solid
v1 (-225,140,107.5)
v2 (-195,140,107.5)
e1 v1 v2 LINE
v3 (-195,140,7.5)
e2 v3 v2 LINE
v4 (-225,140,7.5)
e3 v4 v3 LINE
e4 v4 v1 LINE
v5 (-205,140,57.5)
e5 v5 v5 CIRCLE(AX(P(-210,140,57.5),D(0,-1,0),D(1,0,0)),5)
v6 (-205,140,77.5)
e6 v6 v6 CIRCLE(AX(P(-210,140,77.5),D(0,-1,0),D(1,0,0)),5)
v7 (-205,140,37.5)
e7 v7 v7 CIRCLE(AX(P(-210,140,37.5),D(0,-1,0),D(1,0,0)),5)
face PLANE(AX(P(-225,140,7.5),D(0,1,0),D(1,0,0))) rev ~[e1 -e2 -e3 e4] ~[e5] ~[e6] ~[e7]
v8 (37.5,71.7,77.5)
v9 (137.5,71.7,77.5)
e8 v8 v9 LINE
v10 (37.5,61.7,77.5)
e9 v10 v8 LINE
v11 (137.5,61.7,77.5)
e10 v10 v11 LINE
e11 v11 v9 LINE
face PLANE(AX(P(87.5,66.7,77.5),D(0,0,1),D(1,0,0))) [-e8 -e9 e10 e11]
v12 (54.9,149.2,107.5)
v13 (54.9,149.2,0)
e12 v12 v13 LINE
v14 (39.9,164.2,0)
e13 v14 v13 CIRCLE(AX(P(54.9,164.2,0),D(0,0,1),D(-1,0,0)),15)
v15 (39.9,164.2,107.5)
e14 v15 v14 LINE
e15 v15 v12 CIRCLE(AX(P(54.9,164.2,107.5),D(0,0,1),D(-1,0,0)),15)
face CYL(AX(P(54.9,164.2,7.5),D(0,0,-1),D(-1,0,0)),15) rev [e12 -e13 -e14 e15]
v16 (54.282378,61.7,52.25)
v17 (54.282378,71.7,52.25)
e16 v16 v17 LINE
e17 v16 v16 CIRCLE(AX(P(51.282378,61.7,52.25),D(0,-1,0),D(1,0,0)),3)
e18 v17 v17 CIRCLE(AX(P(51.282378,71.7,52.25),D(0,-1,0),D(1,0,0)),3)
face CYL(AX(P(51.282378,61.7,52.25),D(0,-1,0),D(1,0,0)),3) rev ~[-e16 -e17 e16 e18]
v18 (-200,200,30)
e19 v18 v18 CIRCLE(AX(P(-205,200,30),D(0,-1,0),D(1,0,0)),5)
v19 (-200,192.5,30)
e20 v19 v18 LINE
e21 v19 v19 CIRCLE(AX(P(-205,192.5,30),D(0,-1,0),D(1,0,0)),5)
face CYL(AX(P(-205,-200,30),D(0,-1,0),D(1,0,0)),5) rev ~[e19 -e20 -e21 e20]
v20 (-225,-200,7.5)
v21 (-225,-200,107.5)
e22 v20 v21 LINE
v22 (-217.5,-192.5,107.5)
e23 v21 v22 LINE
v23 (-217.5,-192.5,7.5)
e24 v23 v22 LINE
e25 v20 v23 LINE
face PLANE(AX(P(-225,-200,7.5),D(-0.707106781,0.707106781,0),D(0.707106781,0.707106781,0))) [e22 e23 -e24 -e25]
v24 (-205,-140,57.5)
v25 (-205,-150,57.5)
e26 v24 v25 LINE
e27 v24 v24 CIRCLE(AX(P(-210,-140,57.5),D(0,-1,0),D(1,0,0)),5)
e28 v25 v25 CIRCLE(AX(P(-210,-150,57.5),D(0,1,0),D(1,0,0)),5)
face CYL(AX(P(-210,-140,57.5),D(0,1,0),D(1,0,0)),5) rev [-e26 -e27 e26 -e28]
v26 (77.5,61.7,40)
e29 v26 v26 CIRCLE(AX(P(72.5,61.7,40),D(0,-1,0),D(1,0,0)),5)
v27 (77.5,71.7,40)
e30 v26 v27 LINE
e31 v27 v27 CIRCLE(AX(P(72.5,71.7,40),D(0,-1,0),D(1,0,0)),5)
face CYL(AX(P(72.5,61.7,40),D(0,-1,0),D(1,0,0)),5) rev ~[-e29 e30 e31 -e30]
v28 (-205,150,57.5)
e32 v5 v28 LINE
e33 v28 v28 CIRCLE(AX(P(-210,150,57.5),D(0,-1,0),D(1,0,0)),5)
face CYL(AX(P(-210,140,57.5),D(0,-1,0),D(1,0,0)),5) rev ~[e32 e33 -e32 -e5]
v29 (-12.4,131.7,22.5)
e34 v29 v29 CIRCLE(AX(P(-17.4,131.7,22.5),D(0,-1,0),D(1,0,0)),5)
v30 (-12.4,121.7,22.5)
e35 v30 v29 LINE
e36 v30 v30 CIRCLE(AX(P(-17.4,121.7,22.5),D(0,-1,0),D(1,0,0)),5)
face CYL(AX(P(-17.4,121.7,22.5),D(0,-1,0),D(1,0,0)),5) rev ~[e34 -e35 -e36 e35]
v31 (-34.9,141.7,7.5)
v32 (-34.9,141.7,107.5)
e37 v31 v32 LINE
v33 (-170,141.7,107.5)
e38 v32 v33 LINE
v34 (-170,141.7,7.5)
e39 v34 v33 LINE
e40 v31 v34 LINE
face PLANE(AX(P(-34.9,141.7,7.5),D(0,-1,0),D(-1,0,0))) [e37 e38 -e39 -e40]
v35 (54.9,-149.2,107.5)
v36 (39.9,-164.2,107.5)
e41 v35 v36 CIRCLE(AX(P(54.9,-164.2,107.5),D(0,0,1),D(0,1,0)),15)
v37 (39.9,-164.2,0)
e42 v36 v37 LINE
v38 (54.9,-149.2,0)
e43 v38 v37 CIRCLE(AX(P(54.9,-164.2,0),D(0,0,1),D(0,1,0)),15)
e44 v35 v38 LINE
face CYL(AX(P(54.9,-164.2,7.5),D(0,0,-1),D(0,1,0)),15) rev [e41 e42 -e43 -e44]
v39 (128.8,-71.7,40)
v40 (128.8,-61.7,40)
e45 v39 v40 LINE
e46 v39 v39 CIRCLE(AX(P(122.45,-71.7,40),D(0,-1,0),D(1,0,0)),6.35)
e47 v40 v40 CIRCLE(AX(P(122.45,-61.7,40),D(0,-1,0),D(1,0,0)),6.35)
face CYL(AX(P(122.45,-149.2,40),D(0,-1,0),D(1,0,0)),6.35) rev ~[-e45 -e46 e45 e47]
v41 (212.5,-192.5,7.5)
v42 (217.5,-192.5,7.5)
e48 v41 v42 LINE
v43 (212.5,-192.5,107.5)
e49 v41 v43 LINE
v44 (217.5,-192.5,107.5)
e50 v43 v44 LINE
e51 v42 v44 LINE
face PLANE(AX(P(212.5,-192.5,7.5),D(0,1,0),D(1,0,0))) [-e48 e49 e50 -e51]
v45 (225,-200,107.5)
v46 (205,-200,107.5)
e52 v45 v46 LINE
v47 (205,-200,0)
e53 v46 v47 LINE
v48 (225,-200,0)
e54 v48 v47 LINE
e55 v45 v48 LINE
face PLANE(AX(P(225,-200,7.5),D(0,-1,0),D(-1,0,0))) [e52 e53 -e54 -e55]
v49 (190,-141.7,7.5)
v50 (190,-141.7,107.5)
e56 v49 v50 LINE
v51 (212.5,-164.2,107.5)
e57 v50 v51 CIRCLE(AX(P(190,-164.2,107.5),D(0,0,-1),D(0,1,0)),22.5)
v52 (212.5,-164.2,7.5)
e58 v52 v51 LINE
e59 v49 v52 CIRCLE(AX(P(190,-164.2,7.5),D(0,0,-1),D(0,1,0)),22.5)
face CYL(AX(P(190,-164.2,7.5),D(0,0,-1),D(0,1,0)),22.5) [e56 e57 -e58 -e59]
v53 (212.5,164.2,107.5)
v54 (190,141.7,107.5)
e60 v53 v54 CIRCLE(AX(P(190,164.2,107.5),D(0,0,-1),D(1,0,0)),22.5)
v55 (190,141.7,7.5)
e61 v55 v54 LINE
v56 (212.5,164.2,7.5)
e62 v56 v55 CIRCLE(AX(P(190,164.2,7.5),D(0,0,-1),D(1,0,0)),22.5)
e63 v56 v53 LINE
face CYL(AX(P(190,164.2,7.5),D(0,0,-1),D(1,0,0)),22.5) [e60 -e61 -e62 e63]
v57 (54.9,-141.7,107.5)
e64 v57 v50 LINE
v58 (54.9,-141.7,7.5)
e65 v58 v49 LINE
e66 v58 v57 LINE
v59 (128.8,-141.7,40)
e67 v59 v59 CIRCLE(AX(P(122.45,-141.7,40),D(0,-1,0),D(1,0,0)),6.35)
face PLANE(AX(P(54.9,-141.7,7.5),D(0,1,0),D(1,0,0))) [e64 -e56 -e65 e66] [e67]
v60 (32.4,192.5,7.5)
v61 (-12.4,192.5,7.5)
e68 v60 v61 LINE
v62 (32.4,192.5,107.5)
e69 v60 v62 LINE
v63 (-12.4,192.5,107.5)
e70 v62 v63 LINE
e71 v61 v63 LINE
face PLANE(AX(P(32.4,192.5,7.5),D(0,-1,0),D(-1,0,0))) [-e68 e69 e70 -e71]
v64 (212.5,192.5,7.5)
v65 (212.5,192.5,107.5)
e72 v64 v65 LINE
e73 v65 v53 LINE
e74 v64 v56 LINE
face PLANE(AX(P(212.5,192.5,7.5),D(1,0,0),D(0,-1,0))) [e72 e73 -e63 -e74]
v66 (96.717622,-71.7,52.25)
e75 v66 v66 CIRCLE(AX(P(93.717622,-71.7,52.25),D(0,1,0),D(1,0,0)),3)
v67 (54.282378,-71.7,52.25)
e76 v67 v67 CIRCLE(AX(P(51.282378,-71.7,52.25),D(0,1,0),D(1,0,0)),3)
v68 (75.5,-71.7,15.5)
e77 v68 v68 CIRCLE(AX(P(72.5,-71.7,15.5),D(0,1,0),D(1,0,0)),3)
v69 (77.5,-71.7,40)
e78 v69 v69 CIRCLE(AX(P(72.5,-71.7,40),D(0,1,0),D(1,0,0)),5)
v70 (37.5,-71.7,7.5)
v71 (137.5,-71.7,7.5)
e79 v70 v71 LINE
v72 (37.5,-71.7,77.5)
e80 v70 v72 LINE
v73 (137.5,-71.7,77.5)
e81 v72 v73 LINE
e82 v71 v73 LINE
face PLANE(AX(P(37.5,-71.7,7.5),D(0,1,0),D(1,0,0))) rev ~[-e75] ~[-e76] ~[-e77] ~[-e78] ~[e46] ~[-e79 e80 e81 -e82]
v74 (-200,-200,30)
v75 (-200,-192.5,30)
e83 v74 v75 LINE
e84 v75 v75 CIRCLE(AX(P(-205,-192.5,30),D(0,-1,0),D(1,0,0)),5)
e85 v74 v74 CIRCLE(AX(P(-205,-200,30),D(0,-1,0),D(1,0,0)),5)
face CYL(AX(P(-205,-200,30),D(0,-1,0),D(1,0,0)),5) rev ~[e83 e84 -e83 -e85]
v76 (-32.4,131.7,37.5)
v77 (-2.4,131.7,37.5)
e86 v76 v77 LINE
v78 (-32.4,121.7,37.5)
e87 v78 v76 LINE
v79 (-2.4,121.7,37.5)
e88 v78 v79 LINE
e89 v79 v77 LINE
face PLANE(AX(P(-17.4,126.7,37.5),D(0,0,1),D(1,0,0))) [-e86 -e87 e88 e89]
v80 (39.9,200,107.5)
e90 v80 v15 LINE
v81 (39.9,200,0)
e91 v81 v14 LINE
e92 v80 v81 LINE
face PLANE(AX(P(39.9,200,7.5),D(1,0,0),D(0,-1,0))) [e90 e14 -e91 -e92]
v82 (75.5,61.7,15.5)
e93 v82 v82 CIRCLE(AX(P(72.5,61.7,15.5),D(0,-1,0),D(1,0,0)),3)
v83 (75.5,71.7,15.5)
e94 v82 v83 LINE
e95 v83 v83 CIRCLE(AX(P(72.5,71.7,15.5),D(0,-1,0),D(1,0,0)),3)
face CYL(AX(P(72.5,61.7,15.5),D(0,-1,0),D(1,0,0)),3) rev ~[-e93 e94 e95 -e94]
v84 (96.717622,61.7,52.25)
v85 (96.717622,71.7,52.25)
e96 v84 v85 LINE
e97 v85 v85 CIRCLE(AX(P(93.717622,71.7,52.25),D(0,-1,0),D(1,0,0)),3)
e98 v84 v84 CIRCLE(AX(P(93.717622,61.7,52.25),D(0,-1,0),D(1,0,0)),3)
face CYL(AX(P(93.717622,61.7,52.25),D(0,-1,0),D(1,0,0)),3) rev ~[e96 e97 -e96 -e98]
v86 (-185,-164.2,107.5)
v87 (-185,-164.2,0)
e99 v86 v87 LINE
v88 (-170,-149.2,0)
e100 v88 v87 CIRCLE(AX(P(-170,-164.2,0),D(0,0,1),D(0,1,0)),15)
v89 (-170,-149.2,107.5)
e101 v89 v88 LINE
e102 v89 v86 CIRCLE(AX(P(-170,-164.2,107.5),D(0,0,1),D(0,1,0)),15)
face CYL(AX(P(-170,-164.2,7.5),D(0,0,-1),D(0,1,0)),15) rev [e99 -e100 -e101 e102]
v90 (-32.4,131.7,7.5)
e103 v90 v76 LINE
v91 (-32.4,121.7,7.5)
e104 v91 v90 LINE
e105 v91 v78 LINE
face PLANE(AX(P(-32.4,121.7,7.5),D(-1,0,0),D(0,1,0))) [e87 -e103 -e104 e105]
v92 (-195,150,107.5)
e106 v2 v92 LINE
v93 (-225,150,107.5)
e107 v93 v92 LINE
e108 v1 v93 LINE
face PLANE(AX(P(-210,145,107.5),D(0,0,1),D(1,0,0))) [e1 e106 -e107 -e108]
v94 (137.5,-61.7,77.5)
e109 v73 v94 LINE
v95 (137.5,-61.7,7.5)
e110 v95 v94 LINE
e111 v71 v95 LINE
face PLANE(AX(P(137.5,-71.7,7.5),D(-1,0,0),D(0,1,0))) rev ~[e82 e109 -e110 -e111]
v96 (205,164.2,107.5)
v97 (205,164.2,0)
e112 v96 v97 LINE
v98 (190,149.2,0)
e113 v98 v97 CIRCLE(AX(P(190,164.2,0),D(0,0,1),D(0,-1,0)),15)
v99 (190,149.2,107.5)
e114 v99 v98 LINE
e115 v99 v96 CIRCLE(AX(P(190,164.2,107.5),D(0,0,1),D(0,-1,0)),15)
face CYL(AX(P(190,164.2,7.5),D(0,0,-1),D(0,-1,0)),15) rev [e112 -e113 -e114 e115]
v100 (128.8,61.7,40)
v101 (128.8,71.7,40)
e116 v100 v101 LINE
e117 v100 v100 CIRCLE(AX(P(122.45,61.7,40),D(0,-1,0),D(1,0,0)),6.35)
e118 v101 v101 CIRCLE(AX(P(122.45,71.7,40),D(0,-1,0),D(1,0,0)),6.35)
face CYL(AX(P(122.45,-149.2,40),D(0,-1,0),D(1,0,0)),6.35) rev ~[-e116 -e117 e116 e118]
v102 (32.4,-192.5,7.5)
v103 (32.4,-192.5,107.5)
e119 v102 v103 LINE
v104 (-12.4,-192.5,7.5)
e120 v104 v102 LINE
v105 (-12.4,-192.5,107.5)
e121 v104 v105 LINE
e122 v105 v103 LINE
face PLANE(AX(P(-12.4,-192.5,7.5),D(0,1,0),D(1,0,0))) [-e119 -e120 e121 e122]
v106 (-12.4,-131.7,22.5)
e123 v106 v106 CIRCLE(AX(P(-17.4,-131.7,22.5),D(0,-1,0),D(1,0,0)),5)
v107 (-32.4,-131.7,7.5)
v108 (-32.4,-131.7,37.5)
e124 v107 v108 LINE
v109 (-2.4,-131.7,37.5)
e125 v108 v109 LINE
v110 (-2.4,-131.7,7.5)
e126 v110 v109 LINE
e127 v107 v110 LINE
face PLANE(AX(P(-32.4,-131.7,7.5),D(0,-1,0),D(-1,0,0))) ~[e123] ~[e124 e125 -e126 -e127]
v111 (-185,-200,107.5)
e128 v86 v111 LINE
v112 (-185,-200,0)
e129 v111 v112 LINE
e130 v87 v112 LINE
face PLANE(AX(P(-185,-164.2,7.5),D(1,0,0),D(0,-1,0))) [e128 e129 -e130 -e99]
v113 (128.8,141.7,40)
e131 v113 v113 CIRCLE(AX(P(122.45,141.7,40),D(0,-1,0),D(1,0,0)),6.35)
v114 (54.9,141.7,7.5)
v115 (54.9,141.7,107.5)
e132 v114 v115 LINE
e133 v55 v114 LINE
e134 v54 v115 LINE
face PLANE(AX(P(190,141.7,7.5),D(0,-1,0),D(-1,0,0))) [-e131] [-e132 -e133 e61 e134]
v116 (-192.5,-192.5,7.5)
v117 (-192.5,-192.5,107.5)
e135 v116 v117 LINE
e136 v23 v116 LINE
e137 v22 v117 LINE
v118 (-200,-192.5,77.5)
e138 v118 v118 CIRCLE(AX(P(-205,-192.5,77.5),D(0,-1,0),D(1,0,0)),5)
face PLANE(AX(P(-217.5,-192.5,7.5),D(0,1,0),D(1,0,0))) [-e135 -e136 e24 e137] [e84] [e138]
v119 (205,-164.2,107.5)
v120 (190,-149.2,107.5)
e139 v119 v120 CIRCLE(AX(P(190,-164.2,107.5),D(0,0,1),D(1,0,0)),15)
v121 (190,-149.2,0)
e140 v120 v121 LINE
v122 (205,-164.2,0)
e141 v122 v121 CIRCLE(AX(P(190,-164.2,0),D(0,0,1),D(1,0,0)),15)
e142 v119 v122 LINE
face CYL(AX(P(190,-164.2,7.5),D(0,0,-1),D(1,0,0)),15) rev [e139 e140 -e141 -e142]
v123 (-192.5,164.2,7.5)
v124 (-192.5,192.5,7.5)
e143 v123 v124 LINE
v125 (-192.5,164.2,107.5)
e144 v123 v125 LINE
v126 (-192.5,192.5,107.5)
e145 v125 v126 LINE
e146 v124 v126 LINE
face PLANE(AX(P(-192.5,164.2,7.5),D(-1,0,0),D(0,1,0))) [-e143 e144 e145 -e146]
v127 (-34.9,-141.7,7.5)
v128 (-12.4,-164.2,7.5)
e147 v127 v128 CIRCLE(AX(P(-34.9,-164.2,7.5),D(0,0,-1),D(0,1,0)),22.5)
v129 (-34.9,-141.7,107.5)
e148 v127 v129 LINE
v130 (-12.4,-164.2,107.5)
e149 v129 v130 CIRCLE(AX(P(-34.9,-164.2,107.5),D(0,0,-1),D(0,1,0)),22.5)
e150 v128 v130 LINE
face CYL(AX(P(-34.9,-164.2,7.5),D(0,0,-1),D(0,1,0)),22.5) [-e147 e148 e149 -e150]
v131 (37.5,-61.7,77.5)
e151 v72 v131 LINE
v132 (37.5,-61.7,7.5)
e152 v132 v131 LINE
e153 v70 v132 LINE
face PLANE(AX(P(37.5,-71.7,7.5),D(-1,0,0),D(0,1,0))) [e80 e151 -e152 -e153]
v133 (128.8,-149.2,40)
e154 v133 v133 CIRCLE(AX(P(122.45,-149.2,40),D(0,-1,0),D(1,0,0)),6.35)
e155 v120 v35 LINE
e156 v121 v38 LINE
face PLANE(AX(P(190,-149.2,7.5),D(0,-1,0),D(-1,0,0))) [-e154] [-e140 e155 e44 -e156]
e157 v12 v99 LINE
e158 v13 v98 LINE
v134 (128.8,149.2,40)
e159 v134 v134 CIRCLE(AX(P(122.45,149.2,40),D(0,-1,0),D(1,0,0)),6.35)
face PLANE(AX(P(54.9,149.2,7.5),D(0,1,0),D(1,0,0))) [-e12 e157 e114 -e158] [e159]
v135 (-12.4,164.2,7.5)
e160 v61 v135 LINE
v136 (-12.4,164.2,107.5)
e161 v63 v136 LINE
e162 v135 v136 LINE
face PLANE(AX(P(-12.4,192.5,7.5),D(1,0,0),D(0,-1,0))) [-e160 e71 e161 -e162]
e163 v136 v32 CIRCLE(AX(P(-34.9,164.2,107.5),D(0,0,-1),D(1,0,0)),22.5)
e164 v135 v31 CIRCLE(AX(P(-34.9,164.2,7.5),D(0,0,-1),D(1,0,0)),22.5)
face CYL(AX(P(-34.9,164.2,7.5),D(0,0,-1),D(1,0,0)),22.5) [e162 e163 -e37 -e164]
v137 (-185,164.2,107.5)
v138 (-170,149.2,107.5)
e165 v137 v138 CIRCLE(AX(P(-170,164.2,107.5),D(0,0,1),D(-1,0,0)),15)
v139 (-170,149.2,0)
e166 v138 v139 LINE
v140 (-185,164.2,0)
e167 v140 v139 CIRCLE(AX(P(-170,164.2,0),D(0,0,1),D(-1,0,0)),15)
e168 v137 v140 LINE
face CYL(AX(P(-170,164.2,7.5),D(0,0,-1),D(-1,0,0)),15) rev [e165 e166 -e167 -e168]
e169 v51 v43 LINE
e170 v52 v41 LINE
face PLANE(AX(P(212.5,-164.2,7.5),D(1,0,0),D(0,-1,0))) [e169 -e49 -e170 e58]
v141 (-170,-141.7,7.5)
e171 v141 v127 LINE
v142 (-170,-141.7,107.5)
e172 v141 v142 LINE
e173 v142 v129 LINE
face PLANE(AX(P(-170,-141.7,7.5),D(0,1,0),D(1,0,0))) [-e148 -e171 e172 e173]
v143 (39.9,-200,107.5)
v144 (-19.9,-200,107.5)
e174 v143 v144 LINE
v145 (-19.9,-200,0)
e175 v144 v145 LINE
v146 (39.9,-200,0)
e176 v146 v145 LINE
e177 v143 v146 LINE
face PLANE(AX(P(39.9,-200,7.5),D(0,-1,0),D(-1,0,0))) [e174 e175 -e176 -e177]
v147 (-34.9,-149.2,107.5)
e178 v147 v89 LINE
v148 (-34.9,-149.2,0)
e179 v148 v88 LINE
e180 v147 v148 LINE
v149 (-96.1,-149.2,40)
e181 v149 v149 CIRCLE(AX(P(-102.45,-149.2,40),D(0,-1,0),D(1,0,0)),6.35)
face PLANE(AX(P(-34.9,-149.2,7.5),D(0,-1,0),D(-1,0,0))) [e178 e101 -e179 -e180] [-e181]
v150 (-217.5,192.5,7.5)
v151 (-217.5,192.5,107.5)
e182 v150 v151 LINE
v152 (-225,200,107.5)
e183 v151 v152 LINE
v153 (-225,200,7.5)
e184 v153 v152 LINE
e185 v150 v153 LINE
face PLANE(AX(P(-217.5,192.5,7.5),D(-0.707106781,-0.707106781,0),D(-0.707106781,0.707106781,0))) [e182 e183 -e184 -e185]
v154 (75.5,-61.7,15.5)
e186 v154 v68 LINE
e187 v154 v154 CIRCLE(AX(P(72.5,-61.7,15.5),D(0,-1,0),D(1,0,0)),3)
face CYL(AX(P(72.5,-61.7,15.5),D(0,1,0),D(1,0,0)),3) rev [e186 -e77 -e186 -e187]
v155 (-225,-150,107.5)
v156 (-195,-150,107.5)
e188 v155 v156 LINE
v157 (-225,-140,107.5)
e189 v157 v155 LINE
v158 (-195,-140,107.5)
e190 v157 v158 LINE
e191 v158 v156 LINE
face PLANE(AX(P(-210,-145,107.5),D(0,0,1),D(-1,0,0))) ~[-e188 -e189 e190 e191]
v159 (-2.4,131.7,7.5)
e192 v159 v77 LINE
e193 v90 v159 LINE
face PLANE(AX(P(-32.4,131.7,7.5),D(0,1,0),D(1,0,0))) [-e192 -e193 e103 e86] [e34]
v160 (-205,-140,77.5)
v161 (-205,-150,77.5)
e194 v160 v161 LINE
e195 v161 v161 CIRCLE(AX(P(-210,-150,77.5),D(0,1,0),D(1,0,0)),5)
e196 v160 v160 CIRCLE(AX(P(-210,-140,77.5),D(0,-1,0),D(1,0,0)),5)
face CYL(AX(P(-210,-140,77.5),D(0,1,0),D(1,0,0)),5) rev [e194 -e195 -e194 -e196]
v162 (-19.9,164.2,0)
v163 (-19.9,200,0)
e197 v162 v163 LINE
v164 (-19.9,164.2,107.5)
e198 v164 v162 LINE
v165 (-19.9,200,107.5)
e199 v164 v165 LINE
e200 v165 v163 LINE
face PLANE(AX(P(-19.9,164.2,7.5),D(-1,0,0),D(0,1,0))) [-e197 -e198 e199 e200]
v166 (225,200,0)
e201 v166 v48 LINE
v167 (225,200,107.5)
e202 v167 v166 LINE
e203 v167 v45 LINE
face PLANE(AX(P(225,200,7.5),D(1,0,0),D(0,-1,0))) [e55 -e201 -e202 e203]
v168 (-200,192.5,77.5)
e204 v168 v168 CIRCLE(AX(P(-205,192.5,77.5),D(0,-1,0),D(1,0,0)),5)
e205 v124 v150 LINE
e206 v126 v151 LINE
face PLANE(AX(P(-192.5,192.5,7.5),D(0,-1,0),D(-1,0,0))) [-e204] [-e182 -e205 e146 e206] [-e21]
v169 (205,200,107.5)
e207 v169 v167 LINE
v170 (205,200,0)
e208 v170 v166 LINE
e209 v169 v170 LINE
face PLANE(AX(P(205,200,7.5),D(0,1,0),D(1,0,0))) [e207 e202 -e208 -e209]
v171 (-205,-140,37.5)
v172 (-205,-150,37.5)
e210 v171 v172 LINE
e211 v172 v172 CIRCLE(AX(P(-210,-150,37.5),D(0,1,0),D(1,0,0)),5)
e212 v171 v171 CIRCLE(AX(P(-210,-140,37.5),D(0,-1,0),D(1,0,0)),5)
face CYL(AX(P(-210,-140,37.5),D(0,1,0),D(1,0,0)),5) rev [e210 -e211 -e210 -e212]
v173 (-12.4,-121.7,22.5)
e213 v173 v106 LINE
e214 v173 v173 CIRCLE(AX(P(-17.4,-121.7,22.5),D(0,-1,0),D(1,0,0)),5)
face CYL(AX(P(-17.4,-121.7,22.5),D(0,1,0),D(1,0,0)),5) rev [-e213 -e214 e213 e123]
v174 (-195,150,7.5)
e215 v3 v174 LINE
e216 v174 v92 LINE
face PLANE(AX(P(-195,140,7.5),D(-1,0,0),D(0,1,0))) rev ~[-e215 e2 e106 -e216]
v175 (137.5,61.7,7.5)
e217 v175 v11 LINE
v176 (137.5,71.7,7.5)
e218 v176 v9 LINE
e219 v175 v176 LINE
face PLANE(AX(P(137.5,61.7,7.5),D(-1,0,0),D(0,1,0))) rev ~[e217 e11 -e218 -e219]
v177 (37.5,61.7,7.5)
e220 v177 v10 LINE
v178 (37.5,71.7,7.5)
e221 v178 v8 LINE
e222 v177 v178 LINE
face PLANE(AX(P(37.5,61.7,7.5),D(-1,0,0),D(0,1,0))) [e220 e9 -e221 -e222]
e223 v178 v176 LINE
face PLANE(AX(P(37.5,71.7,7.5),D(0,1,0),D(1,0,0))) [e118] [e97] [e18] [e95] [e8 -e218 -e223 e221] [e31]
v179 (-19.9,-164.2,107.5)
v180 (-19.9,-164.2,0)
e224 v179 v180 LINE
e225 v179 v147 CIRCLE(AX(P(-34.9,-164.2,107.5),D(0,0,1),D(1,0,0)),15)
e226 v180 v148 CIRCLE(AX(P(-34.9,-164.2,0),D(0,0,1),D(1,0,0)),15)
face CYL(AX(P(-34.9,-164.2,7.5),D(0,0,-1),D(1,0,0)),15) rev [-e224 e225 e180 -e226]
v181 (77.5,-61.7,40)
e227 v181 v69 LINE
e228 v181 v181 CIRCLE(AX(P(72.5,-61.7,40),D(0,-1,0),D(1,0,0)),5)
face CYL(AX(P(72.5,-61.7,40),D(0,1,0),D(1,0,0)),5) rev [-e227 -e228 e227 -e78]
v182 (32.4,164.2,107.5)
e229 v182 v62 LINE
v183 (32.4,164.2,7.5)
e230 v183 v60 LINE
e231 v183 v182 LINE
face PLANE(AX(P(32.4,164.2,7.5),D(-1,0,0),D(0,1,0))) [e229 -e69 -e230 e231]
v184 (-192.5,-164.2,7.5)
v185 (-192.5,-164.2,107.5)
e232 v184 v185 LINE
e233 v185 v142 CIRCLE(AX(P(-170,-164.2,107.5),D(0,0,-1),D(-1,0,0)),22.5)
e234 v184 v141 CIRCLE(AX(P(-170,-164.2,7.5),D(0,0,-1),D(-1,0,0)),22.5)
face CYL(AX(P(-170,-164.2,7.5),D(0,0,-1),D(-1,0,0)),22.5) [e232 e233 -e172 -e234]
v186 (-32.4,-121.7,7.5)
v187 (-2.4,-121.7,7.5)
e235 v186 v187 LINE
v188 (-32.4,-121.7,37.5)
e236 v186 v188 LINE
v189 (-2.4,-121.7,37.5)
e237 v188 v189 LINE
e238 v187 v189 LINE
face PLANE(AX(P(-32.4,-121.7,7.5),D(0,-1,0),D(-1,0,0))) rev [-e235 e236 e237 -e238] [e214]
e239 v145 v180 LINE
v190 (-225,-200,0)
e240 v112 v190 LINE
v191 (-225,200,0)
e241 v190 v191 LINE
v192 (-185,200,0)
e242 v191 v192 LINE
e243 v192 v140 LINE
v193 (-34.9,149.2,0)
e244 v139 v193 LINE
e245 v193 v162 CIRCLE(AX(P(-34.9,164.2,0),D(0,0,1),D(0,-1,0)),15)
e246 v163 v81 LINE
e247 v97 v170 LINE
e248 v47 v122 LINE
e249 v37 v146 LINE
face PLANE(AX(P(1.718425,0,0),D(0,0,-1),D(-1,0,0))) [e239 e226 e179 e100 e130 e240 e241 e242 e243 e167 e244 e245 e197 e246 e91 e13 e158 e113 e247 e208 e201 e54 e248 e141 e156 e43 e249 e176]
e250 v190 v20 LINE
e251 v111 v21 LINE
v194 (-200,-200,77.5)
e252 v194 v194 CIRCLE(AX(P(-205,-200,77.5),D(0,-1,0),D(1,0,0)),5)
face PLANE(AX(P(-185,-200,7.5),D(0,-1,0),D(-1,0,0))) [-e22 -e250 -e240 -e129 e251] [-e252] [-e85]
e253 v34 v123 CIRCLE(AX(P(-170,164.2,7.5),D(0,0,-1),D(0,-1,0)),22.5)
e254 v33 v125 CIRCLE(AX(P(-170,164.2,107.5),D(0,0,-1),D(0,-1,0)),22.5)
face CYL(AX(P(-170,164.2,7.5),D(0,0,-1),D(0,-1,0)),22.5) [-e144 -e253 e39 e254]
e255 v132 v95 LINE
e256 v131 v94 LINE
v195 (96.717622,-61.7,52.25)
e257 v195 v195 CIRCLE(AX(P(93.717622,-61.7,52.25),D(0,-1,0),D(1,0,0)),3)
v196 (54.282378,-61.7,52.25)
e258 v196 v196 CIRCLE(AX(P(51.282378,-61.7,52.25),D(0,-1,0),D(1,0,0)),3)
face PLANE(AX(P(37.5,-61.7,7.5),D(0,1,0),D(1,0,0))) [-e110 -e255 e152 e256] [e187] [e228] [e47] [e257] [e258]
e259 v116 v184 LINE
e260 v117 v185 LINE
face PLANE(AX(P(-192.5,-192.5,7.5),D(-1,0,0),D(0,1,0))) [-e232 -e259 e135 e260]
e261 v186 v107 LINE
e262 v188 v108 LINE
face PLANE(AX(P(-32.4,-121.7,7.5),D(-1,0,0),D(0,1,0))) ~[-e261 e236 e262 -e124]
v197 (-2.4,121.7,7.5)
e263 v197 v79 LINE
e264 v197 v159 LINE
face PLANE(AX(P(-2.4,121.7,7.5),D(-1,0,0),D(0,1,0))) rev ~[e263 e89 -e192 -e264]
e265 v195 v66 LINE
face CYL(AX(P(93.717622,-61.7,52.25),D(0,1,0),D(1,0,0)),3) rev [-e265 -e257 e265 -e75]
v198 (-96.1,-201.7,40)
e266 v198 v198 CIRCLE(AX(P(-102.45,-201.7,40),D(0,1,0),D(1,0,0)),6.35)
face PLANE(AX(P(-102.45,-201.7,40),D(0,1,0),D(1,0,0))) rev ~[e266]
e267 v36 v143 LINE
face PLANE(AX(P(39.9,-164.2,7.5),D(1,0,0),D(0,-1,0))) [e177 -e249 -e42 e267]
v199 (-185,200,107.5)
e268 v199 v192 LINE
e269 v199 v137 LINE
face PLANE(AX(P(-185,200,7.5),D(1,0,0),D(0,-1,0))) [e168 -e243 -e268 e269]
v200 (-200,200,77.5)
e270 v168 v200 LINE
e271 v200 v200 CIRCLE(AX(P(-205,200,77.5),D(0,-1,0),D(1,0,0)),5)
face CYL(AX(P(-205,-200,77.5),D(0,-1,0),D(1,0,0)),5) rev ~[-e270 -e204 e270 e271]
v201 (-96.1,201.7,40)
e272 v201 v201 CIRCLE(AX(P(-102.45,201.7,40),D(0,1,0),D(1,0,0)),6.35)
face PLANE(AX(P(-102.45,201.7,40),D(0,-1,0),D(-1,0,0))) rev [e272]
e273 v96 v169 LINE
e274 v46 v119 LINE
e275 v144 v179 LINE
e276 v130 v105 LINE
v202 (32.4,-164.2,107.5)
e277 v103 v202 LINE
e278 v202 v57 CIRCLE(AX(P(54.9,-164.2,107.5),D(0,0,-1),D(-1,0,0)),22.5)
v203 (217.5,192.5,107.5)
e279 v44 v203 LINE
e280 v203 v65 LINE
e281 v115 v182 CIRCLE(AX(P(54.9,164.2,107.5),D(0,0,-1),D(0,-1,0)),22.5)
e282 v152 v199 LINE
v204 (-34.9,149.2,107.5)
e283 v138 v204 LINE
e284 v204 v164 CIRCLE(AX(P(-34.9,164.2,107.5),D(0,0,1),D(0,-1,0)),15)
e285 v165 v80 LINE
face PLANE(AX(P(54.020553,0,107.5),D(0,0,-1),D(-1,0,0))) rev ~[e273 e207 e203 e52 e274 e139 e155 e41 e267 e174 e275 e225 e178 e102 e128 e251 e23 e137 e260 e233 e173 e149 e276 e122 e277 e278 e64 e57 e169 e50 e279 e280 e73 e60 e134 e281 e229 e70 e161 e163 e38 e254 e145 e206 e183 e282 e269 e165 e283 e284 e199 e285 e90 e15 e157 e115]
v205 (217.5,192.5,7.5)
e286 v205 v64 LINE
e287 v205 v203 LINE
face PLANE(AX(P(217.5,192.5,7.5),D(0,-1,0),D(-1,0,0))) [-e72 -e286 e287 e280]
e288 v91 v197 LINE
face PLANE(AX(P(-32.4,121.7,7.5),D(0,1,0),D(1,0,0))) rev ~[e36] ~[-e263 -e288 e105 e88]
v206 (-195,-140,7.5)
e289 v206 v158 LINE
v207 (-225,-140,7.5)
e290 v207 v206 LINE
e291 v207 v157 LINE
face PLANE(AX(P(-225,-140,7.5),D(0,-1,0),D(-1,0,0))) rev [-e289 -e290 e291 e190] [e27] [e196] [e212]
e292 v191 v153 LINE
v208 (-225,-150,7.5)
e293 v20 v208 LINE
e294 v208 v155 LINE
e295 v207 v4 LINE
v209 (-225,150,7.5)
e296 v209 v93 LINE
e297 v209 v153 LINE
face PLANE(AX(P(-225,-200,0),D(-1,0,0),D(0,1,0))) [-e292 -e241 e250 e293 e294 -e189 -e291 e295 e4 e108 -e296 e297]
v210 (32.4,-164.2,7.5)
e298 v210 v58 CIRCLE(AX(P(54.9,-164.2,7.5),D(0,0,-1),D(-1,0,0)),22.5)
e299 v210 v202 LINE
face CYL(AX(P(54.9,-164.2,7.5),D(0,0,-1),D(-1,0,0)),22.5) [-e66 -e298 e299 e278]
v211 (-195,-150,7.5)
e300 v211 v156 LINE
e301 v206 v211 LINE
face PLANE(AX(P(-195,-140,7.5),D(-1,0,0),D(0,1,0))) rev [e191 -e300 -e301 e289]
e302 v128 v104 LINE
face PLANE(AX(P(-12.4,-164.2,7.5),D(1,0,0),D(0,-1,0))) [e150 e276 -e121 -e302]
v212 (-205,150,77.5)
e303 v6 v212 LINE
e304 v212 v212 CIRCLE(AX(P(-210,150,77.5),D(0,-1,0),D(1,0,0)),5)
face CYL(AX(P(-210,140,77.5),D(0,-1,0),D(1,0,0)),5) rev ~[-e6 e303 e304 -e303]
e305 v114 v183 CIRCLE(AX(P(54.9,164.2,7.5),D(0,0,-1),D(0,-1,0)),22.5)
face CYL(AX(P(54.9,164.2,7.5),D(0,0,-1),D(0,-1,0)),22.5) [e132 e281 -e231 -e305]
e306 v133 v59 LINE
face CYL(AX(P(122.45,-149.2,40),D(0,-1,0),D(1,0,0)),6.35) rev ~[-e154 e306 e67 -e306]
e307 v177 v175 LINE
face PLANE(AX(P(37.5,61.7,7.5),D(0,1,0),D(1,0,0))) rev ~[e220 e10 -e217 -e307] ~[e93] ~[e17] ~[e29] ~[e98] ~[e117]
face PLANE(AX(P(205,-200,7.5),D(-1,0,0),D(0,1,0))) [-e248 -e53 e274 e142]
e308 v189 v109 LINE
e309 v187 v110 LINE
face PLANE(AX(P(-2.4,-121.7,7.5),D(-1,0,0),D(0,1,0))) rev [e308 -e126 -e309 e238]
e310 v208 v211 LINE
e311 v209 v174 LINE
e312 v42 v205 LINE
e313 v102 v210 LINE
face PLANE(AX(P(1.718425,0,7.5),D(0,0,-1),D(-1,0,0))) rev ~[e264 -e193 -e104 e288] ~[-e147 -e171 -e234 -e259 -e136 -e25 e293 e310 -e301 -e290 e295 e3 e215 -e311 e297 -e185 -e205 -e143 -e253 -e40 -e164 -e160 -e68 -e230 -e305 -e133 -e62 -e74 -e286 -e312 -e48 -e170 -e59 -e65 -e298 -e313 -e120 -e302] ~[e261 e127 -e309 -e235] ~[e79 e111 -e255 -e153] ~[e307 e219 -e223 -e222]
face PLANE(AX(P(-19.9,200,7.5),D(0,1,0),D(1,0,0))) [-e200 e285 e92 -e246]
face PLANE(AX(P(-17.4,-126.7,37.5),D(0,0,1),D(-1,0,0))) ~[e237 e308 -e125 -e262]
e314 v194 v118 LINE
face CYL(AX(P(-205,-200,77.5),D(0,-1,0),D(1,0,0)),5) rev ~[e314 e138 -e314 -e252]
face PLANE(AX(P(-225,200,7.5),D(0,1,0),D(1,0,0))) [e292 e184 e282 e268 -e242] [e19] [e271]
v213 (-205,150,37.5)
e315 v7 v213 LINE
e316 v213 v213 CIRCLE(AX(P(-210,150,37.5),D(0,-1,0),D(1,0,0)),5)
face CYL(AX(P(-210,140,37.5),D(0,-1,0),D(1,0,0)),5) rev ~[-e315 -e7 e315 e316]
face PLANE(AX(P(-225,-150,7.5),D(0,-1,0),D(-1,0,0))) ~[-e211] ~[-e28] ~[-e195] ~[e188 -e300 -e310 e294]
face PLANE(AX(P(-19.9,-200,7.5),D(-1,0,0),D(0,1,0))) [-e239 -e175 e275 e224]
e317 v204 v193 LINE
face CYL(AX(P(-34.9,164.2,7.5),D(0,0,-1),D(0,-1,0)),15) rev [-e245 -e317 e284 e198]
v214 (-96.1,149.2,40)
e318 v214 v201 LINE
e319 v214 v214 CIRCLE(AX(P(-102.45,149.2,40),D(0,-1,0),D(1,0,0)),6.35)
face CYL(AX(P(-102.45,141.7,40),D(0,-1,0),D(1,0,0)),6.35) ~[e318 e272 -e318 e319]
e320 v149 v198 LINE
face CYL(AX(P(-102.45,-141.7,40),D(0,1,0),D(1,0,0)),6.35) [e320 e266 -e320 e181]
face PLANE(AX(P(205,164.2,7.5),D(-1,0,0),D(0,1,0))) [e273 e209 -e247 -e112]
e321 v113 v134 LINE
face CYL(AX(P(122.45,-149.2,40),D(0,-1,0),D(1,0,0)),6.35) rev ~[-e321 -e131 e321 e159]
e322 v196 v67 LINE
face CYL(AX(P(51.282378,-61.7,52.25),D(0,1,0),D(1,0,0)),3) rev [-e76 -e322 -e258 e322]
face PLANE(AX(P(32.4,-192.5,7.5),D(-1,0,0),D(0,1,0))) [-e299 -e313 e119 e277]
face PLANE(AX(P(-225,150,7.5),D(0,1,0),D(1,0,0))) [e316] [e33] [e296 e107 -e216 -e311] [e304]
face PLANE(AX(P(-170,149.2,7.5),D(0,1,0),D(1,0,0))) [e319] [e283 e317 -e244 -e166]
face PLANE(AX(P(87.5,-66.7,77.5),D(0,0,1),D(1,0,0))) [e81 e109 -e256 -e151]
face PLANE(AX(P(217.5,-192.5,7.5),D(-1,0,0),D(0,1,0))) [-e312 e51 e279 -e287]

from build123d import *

# Parameters (mm, degrees)
BOSS_EXTRUDE1_DEPTH = 7.5
BOSS_EXTRUDE3_DEPTH = 100
SKETCH5_R           = 6.35
CUT_EXTRUDE1_DEPTH  = 335
SKETCH6_W           = 100
SKETCH6_H           = 10
BOSS_EXTRUDE4_DEPTH = 70
SKETCH7_R           = 6.35
CUT_EXTRUDE2_DEPTH  = 322
SKETCH9_R           = 3
SKETCH9_R_2         = 5
CUT_EXTRUDE3_DEPTH  = 53
SKETCH10_R          = 6.35
BOSS_EXTRUDE5_DEPTH = 60
SKETCH11_R          = 5
CUT_EXTRUDE4_DEPTH  = 490
SKETCH12_W          = 30
SKETCH12_H          = 10
BOSS_EXTRUDE6_DEPTH = 30
SKETCH13_R          = 5
CUT_EXTRUDE5_DEPTH  = 10
SKETCH14_W          = 30
SKETCH14_H          = 10
BOSS_EXTRUDE7_DEPTH = 100
SKETCH15_R          = 5
CUT_EXTRUDE6_DEPTH  = 35


with BuildPart() as part:
    # Sketch2 → Boss-Extrude1 (new body)
    with BuildSketch(Plane.XY):
        with BuildLine():
            Line((-19.9, 200), (39.9, 200))
            Line((39.9, 200), (39.9, 164.2))
            ThreePointArc((39.9, 164.2), (44.293398282, 153.593398282), (54.9, 149.2))
            Line((54.9, 149.2), (190, 149.2))
            ThreePointArc((190, 149.2), (200.606601718, 153.593398282), (205, 164.2))
            Line((205, 164.2), (205, 200))
            Line((205, 200), (225, 200))
            Line((225, 200), (225, -200))
            Line((225, -200), (205, -200))
            Line((205, -200), (205, -164.2))
            ThreePointArc((205, -164.2), (200.606601718, -153.593398282), (190, -149.2))
            Line((190, -149.2), (54.9, -149.2))
            ThreePointArc((54.9, -149.2), (44.293398282, -153.593398282), (39.9, -164.2))
            Line((39.9, -164.2), (39.9, -200))
            Line((39.9, -200), (-19.9, -200))
            Line((-19.9, -200), (-19.9, -164.2))
            ThreePointArc((-19.9, -164.2), (-24.293398282, -153.593398282), (-34.9, -149.2))
            Line((-34.9, -149.2), (-170, -149.2))
            ThreePointArc((-170, -149.2), (-180.606601718, -153.593398282), (-185, -164.2))
            Line((-185, -164.2), (-185, -200))
            Line((-185, -200), (-225, -200))
            Line((-225, -200), (-225, 200))
            Line((-225, 200), (-185, 200))
            Line((-185, 200), (-185, 164.2))
            ThreePointArc((-185, 164.2), (-180.606601718, 153.593398282), (-170, 149.2))
            Line((-170, 149.2), (-34.9, 149.2))
            ThreePointArc((-34.9, 149.2), (-24.293398282, 153.593398282), (-19.9, 164.2))
            Line((-19.9, 164.2), (-19.9, 200))
        make_face()
    extrude(amount=BOSS_EXTRUDE1_DEPTH)

    # Sketch4 → Boss-Extrude3 (add)
    with BuildSketch(Plane.XY.offset(7.5)):
        with BuildLine():
            Line((-217.5, 192.5), (-225, 200))
            Line((-225, 200), (-185, 200))
            Line((-185, 200), (-185, 164.2))
            ThreePointArc((-185, 164.2), (-180.606601718, 153.593398282), (-170, 149.2))
            Line((-170, 149.2), (-34.9, 149.2))
            ThreePointArc((-34.9, 149.2), (-24.293398282, 153.593398282), (-19.9, 164.2))
            Line((-19.9, 164.2), (-19.9, 200))
            Line((-19.9, 200), (39.9, 200))
            Line((39.9, 200), (39.9, 164.2))
            ThreePointArc((39.9, 164.2), (44.293398282, 153.593398282), (54.9, 149.2))
            Line((54.9, 149.2), (190, 149.2))
            ThreePointArc((190, 149.2), (200.606601718, 153.593398282), (205, 164.2))
            Line((205, 164.2), (205, 200))
            Line((205, 200), (225, 200))
            Line((225, 200), (225, -200))
            Line((225, -200), (205, -200))
            Line((205, -200), (205, -164.2))
            ThreePointArc((205, -164.2), (200.606601718, -153.593398282), (190, -149.2))
            Line((190, -149.2), (54.9, -149.2))
            ThreePointArc((54.9, -149.2), (44.293398282, -153.593398282), (39.9, -164.2))
            Line((39.9, -164.2), (39.9, -200))
            Line((39.9, -200), (-19.9, -200))
            Line((-19.9, -200), (-19.9, -164.2))
            ThreePointArc((-19.9, -164.2), (-24.293398282, -153.593398282), (-34.9, -149.2))
            Line((-34.9, -149.2), (-170, -149.2))
            ThreePointArc((-170, -149.2), (-180.606601718, -153.593398282), (-185, -164.2))
            Line((-185, -164.2), (-185, -200))
            Line((-185, -200), (-225, -200))
            Line((-225, -200), (-217.5, -192.5))
            Line((-217.5, -192.5), (-192.5, -192.5))
            Line((-192.5, -192.5), (-192.5, -164.2))
            ThreePointArc((-192.5, -164.2), (-185.909902577, -148.290097423), (-170, -141.7))
            Line((-170, -141.7), (-34.9, -141.7))
            ThreePointArc((-34.9, -141.7), (-18.990097423, -148.290097423), (-12.4, -164.2))
            Line((-12.4, -164.2), (-12.4, -192.5))
            Line((-12.4, -192.5), (32.4, -192.5))
            Line((32.4, -192.5), (32.4, -164.2))
            ThreePointArc((32.4, -164.2), (38.990097423, -148.290097423), (54.9, -141.7))
            Line((54.9, -141.7), (190, -141.7))
            ThreePointArc((190, -141.7), (205.909902577, -148.290097423), (212.5, -164.2))
            Line((212.5, -164.2), (212.5, -192.5))
            Line((212.5, -192.5), (217.5, -192.5))
            Line((217.5, -192.5), (217.5, 192.5))
            Line((217.5, 192.5), (212.5, 192.5))
            Line((212.5, 192.5), (212.5, 164.2))
            ThreePointArc((212.5, 164.2), (205.909902577, 148.290097423), (190, 141.7))
            Line((190, 141.7), (54.9, 141.7))
            ThreePointArc((54.9, 141.7), (38.990097423, 148.290097423), (32.4, 164.2))
            Line((32.4, 164.2), (32.4, 192.5))
            Line((32.4, 192.5), (-12.4, 192.5))
            Line((-12.4, 192.5), (-12.4, 164.2))
            ThreePointArc((-12.4, 164.2), (-18.990097423, 148.290097423), (-34.9, 141.7))
            Line((-34.9, 141.7), (-170, 141.7))
            ThreePointArc((-170, 141.7), (-185.909902577, 148.290097423), (-192.5, 164.2))
            Line((-192.5, 164.2), (-192.5, 192.5))
            Line((-192.5, 192.5), (-217.5, 192.5))
        make_face()
    extrude(amount=BOSS_EXTRUDE3_DEPTH)

    # Sketch5 → Cut-Extrude1 (cut)
    with BuildSketch(Plane.XZ.offset(149.2)):
        with Locations((-102.45, 40)):
            Circle(SKETCH5_R)
        with Locations((122.45, 40)):
            Circle(SKETCH5_R)
    extrude(amount=-CUT_EXTRUDE1_DEPTH, mode=Mode.SUBTRACT)

    # Sketch6 → Boss-Extrude4 (add)
    with BuildSketch(Plane.XY.offset(7.5)):
        with Locations((87.5, 66.7)):
            Rectangle(SKETCH6_W, SKETCH6_H)
        with Locations((87.5, -66.7)):
            Rectangle(SKETCH6_W, SKETCH6_H)
    extrude(amount=BOSS_EXTRUDE4_DEPTH)

    # Sketch7 → Cut-Extrude2 (cut)
    with BuildSketch(Plane.XZ.offset(149.2)):
        with Locations((122.45, 40)):
            Circle(SKETCH7_R)
    extrude(amount=-CUT_EXTRUDE2_DEPTH, mode=Mode.SUBTRACT)

    # Sketch9 → Cut-Extrude3 (cut)
    with BuildSketch(Plane.XZ.offset(-61.7)):
        with Locations((72.5, 15.5)):
            Circle(SKETCH9_R)
        with Locations((51.282377607, 52.25)):
            Circle(SKETCH9_R)
        with Locations((93.717622393, 52.25)):
            Circle(SKETCH9_R)
        with Locations((72.5, 40)):
            Circle(SKETCH9_R_2)
    cut_extrude3 = extrude(amount=-CUT_EXTRUDE3_DEPTH, mode=Mode.SUBTRACT)

    # Mirror1: Cut-Extrude3 across plane
    add(cut_extrude3.mirror(Plane.ZX), mode=Mode.SUBTRACT)

    # Sketch10 → Boss-Extrude5 (add)
    with BuildSketch(Plane(origin=(0, -141.7, 0), x_dir=(1, 0, 0), z_dir=(0, 1, 0))):
        with Locations((-102.45, -40)):
            Circle(SKETCH10_R)
    boss_extrude5 = extrude(amount=-BOSS_EXTRUDE5_DEPTH)

    # Mirror2: Boss-Extrude5 across plane
    add(boss_extrude5.mirror(Plane.ZX))

    # Sketch11 → Cut-Extrude4 (cut)
    with BuildSketch(Plane.XZ.offset(200)):
        with Locations((-205, 77.5)):
            Circle(SKETCH11_R)
        with Locations((-205, 30)):
            Circle(SKETCH11_R)
    extrude(amount=-CUT_EXTRUDE4_DEPTH, mode=Mode.SUBTRACT)

    # Sketch12 → Boss-Extrude6 (add)
    with BuildSketch(Plane.XY.offset(7.5)):
        with Locations((-17.4, 126.7)):
            Rectangle(SKETCH12_W, SKETCH12_H)
    boss_extrude6 = extrude(amount=BOSS_EXTRUDE6_DEPTH)

    # Sketch13 → Cut-Extrude5 (cut)
    with BuildSketch(Plane.XZ.offset(-121.7)):
        with Locations((-17.4, 22.5)):
            Circle(SKETCH13_R)
    cut_extrude5 = extrude(amount=-CUT_EXTRUDE5_DEPTH, mode=Mode.SUBTRACT)

    # Mirror3: Boss-Extrude6, Cut-Extrude5 across plane
    add(boss_extrude6.mirror(Plane.ZX))
    add(cut_extrude5.mirror(Plane.ZX), mode=Mode.SUBTRACT)

    # Sketch14 → Boss-Extrude7 (add)
    with BuildSketch(Plane.XY.offset(7.5)):
        with Locations((-210, 145)):
            Rectangle(SKETCH14_W, SKETCH14_H)
    boss_extrude7 = extrude(amount=BOSS_EXTRUDE7_DEPTH)

    # Sketch15 → Cut-Extrude6 (cut)
    with BuildSketch(Plane.XZ.offset(-140)):
        with Locations((-210, 77.5)):
            Circle(SKETCH15_R)
        with Locations((-210, 57.5)):
            Circle(SKETCH15_R)
        with Locations((-210, 37.5)):
            Circle(SKETCH15_R)
    cut_extrude6 = extrude(amount=-CUT_EXTRUDE6_DEPTH, mode=Mode.SUBTRACT)

    # Mirror4: Boss-Extrude7, Cut-Extrude6 across plane
    add(boss_extrude7.mirror(Plane.ZX))
    add(cut_extrude6.mirror(Plane.ZX), mode=Mode.SUBTRACT)


solid = part.part
